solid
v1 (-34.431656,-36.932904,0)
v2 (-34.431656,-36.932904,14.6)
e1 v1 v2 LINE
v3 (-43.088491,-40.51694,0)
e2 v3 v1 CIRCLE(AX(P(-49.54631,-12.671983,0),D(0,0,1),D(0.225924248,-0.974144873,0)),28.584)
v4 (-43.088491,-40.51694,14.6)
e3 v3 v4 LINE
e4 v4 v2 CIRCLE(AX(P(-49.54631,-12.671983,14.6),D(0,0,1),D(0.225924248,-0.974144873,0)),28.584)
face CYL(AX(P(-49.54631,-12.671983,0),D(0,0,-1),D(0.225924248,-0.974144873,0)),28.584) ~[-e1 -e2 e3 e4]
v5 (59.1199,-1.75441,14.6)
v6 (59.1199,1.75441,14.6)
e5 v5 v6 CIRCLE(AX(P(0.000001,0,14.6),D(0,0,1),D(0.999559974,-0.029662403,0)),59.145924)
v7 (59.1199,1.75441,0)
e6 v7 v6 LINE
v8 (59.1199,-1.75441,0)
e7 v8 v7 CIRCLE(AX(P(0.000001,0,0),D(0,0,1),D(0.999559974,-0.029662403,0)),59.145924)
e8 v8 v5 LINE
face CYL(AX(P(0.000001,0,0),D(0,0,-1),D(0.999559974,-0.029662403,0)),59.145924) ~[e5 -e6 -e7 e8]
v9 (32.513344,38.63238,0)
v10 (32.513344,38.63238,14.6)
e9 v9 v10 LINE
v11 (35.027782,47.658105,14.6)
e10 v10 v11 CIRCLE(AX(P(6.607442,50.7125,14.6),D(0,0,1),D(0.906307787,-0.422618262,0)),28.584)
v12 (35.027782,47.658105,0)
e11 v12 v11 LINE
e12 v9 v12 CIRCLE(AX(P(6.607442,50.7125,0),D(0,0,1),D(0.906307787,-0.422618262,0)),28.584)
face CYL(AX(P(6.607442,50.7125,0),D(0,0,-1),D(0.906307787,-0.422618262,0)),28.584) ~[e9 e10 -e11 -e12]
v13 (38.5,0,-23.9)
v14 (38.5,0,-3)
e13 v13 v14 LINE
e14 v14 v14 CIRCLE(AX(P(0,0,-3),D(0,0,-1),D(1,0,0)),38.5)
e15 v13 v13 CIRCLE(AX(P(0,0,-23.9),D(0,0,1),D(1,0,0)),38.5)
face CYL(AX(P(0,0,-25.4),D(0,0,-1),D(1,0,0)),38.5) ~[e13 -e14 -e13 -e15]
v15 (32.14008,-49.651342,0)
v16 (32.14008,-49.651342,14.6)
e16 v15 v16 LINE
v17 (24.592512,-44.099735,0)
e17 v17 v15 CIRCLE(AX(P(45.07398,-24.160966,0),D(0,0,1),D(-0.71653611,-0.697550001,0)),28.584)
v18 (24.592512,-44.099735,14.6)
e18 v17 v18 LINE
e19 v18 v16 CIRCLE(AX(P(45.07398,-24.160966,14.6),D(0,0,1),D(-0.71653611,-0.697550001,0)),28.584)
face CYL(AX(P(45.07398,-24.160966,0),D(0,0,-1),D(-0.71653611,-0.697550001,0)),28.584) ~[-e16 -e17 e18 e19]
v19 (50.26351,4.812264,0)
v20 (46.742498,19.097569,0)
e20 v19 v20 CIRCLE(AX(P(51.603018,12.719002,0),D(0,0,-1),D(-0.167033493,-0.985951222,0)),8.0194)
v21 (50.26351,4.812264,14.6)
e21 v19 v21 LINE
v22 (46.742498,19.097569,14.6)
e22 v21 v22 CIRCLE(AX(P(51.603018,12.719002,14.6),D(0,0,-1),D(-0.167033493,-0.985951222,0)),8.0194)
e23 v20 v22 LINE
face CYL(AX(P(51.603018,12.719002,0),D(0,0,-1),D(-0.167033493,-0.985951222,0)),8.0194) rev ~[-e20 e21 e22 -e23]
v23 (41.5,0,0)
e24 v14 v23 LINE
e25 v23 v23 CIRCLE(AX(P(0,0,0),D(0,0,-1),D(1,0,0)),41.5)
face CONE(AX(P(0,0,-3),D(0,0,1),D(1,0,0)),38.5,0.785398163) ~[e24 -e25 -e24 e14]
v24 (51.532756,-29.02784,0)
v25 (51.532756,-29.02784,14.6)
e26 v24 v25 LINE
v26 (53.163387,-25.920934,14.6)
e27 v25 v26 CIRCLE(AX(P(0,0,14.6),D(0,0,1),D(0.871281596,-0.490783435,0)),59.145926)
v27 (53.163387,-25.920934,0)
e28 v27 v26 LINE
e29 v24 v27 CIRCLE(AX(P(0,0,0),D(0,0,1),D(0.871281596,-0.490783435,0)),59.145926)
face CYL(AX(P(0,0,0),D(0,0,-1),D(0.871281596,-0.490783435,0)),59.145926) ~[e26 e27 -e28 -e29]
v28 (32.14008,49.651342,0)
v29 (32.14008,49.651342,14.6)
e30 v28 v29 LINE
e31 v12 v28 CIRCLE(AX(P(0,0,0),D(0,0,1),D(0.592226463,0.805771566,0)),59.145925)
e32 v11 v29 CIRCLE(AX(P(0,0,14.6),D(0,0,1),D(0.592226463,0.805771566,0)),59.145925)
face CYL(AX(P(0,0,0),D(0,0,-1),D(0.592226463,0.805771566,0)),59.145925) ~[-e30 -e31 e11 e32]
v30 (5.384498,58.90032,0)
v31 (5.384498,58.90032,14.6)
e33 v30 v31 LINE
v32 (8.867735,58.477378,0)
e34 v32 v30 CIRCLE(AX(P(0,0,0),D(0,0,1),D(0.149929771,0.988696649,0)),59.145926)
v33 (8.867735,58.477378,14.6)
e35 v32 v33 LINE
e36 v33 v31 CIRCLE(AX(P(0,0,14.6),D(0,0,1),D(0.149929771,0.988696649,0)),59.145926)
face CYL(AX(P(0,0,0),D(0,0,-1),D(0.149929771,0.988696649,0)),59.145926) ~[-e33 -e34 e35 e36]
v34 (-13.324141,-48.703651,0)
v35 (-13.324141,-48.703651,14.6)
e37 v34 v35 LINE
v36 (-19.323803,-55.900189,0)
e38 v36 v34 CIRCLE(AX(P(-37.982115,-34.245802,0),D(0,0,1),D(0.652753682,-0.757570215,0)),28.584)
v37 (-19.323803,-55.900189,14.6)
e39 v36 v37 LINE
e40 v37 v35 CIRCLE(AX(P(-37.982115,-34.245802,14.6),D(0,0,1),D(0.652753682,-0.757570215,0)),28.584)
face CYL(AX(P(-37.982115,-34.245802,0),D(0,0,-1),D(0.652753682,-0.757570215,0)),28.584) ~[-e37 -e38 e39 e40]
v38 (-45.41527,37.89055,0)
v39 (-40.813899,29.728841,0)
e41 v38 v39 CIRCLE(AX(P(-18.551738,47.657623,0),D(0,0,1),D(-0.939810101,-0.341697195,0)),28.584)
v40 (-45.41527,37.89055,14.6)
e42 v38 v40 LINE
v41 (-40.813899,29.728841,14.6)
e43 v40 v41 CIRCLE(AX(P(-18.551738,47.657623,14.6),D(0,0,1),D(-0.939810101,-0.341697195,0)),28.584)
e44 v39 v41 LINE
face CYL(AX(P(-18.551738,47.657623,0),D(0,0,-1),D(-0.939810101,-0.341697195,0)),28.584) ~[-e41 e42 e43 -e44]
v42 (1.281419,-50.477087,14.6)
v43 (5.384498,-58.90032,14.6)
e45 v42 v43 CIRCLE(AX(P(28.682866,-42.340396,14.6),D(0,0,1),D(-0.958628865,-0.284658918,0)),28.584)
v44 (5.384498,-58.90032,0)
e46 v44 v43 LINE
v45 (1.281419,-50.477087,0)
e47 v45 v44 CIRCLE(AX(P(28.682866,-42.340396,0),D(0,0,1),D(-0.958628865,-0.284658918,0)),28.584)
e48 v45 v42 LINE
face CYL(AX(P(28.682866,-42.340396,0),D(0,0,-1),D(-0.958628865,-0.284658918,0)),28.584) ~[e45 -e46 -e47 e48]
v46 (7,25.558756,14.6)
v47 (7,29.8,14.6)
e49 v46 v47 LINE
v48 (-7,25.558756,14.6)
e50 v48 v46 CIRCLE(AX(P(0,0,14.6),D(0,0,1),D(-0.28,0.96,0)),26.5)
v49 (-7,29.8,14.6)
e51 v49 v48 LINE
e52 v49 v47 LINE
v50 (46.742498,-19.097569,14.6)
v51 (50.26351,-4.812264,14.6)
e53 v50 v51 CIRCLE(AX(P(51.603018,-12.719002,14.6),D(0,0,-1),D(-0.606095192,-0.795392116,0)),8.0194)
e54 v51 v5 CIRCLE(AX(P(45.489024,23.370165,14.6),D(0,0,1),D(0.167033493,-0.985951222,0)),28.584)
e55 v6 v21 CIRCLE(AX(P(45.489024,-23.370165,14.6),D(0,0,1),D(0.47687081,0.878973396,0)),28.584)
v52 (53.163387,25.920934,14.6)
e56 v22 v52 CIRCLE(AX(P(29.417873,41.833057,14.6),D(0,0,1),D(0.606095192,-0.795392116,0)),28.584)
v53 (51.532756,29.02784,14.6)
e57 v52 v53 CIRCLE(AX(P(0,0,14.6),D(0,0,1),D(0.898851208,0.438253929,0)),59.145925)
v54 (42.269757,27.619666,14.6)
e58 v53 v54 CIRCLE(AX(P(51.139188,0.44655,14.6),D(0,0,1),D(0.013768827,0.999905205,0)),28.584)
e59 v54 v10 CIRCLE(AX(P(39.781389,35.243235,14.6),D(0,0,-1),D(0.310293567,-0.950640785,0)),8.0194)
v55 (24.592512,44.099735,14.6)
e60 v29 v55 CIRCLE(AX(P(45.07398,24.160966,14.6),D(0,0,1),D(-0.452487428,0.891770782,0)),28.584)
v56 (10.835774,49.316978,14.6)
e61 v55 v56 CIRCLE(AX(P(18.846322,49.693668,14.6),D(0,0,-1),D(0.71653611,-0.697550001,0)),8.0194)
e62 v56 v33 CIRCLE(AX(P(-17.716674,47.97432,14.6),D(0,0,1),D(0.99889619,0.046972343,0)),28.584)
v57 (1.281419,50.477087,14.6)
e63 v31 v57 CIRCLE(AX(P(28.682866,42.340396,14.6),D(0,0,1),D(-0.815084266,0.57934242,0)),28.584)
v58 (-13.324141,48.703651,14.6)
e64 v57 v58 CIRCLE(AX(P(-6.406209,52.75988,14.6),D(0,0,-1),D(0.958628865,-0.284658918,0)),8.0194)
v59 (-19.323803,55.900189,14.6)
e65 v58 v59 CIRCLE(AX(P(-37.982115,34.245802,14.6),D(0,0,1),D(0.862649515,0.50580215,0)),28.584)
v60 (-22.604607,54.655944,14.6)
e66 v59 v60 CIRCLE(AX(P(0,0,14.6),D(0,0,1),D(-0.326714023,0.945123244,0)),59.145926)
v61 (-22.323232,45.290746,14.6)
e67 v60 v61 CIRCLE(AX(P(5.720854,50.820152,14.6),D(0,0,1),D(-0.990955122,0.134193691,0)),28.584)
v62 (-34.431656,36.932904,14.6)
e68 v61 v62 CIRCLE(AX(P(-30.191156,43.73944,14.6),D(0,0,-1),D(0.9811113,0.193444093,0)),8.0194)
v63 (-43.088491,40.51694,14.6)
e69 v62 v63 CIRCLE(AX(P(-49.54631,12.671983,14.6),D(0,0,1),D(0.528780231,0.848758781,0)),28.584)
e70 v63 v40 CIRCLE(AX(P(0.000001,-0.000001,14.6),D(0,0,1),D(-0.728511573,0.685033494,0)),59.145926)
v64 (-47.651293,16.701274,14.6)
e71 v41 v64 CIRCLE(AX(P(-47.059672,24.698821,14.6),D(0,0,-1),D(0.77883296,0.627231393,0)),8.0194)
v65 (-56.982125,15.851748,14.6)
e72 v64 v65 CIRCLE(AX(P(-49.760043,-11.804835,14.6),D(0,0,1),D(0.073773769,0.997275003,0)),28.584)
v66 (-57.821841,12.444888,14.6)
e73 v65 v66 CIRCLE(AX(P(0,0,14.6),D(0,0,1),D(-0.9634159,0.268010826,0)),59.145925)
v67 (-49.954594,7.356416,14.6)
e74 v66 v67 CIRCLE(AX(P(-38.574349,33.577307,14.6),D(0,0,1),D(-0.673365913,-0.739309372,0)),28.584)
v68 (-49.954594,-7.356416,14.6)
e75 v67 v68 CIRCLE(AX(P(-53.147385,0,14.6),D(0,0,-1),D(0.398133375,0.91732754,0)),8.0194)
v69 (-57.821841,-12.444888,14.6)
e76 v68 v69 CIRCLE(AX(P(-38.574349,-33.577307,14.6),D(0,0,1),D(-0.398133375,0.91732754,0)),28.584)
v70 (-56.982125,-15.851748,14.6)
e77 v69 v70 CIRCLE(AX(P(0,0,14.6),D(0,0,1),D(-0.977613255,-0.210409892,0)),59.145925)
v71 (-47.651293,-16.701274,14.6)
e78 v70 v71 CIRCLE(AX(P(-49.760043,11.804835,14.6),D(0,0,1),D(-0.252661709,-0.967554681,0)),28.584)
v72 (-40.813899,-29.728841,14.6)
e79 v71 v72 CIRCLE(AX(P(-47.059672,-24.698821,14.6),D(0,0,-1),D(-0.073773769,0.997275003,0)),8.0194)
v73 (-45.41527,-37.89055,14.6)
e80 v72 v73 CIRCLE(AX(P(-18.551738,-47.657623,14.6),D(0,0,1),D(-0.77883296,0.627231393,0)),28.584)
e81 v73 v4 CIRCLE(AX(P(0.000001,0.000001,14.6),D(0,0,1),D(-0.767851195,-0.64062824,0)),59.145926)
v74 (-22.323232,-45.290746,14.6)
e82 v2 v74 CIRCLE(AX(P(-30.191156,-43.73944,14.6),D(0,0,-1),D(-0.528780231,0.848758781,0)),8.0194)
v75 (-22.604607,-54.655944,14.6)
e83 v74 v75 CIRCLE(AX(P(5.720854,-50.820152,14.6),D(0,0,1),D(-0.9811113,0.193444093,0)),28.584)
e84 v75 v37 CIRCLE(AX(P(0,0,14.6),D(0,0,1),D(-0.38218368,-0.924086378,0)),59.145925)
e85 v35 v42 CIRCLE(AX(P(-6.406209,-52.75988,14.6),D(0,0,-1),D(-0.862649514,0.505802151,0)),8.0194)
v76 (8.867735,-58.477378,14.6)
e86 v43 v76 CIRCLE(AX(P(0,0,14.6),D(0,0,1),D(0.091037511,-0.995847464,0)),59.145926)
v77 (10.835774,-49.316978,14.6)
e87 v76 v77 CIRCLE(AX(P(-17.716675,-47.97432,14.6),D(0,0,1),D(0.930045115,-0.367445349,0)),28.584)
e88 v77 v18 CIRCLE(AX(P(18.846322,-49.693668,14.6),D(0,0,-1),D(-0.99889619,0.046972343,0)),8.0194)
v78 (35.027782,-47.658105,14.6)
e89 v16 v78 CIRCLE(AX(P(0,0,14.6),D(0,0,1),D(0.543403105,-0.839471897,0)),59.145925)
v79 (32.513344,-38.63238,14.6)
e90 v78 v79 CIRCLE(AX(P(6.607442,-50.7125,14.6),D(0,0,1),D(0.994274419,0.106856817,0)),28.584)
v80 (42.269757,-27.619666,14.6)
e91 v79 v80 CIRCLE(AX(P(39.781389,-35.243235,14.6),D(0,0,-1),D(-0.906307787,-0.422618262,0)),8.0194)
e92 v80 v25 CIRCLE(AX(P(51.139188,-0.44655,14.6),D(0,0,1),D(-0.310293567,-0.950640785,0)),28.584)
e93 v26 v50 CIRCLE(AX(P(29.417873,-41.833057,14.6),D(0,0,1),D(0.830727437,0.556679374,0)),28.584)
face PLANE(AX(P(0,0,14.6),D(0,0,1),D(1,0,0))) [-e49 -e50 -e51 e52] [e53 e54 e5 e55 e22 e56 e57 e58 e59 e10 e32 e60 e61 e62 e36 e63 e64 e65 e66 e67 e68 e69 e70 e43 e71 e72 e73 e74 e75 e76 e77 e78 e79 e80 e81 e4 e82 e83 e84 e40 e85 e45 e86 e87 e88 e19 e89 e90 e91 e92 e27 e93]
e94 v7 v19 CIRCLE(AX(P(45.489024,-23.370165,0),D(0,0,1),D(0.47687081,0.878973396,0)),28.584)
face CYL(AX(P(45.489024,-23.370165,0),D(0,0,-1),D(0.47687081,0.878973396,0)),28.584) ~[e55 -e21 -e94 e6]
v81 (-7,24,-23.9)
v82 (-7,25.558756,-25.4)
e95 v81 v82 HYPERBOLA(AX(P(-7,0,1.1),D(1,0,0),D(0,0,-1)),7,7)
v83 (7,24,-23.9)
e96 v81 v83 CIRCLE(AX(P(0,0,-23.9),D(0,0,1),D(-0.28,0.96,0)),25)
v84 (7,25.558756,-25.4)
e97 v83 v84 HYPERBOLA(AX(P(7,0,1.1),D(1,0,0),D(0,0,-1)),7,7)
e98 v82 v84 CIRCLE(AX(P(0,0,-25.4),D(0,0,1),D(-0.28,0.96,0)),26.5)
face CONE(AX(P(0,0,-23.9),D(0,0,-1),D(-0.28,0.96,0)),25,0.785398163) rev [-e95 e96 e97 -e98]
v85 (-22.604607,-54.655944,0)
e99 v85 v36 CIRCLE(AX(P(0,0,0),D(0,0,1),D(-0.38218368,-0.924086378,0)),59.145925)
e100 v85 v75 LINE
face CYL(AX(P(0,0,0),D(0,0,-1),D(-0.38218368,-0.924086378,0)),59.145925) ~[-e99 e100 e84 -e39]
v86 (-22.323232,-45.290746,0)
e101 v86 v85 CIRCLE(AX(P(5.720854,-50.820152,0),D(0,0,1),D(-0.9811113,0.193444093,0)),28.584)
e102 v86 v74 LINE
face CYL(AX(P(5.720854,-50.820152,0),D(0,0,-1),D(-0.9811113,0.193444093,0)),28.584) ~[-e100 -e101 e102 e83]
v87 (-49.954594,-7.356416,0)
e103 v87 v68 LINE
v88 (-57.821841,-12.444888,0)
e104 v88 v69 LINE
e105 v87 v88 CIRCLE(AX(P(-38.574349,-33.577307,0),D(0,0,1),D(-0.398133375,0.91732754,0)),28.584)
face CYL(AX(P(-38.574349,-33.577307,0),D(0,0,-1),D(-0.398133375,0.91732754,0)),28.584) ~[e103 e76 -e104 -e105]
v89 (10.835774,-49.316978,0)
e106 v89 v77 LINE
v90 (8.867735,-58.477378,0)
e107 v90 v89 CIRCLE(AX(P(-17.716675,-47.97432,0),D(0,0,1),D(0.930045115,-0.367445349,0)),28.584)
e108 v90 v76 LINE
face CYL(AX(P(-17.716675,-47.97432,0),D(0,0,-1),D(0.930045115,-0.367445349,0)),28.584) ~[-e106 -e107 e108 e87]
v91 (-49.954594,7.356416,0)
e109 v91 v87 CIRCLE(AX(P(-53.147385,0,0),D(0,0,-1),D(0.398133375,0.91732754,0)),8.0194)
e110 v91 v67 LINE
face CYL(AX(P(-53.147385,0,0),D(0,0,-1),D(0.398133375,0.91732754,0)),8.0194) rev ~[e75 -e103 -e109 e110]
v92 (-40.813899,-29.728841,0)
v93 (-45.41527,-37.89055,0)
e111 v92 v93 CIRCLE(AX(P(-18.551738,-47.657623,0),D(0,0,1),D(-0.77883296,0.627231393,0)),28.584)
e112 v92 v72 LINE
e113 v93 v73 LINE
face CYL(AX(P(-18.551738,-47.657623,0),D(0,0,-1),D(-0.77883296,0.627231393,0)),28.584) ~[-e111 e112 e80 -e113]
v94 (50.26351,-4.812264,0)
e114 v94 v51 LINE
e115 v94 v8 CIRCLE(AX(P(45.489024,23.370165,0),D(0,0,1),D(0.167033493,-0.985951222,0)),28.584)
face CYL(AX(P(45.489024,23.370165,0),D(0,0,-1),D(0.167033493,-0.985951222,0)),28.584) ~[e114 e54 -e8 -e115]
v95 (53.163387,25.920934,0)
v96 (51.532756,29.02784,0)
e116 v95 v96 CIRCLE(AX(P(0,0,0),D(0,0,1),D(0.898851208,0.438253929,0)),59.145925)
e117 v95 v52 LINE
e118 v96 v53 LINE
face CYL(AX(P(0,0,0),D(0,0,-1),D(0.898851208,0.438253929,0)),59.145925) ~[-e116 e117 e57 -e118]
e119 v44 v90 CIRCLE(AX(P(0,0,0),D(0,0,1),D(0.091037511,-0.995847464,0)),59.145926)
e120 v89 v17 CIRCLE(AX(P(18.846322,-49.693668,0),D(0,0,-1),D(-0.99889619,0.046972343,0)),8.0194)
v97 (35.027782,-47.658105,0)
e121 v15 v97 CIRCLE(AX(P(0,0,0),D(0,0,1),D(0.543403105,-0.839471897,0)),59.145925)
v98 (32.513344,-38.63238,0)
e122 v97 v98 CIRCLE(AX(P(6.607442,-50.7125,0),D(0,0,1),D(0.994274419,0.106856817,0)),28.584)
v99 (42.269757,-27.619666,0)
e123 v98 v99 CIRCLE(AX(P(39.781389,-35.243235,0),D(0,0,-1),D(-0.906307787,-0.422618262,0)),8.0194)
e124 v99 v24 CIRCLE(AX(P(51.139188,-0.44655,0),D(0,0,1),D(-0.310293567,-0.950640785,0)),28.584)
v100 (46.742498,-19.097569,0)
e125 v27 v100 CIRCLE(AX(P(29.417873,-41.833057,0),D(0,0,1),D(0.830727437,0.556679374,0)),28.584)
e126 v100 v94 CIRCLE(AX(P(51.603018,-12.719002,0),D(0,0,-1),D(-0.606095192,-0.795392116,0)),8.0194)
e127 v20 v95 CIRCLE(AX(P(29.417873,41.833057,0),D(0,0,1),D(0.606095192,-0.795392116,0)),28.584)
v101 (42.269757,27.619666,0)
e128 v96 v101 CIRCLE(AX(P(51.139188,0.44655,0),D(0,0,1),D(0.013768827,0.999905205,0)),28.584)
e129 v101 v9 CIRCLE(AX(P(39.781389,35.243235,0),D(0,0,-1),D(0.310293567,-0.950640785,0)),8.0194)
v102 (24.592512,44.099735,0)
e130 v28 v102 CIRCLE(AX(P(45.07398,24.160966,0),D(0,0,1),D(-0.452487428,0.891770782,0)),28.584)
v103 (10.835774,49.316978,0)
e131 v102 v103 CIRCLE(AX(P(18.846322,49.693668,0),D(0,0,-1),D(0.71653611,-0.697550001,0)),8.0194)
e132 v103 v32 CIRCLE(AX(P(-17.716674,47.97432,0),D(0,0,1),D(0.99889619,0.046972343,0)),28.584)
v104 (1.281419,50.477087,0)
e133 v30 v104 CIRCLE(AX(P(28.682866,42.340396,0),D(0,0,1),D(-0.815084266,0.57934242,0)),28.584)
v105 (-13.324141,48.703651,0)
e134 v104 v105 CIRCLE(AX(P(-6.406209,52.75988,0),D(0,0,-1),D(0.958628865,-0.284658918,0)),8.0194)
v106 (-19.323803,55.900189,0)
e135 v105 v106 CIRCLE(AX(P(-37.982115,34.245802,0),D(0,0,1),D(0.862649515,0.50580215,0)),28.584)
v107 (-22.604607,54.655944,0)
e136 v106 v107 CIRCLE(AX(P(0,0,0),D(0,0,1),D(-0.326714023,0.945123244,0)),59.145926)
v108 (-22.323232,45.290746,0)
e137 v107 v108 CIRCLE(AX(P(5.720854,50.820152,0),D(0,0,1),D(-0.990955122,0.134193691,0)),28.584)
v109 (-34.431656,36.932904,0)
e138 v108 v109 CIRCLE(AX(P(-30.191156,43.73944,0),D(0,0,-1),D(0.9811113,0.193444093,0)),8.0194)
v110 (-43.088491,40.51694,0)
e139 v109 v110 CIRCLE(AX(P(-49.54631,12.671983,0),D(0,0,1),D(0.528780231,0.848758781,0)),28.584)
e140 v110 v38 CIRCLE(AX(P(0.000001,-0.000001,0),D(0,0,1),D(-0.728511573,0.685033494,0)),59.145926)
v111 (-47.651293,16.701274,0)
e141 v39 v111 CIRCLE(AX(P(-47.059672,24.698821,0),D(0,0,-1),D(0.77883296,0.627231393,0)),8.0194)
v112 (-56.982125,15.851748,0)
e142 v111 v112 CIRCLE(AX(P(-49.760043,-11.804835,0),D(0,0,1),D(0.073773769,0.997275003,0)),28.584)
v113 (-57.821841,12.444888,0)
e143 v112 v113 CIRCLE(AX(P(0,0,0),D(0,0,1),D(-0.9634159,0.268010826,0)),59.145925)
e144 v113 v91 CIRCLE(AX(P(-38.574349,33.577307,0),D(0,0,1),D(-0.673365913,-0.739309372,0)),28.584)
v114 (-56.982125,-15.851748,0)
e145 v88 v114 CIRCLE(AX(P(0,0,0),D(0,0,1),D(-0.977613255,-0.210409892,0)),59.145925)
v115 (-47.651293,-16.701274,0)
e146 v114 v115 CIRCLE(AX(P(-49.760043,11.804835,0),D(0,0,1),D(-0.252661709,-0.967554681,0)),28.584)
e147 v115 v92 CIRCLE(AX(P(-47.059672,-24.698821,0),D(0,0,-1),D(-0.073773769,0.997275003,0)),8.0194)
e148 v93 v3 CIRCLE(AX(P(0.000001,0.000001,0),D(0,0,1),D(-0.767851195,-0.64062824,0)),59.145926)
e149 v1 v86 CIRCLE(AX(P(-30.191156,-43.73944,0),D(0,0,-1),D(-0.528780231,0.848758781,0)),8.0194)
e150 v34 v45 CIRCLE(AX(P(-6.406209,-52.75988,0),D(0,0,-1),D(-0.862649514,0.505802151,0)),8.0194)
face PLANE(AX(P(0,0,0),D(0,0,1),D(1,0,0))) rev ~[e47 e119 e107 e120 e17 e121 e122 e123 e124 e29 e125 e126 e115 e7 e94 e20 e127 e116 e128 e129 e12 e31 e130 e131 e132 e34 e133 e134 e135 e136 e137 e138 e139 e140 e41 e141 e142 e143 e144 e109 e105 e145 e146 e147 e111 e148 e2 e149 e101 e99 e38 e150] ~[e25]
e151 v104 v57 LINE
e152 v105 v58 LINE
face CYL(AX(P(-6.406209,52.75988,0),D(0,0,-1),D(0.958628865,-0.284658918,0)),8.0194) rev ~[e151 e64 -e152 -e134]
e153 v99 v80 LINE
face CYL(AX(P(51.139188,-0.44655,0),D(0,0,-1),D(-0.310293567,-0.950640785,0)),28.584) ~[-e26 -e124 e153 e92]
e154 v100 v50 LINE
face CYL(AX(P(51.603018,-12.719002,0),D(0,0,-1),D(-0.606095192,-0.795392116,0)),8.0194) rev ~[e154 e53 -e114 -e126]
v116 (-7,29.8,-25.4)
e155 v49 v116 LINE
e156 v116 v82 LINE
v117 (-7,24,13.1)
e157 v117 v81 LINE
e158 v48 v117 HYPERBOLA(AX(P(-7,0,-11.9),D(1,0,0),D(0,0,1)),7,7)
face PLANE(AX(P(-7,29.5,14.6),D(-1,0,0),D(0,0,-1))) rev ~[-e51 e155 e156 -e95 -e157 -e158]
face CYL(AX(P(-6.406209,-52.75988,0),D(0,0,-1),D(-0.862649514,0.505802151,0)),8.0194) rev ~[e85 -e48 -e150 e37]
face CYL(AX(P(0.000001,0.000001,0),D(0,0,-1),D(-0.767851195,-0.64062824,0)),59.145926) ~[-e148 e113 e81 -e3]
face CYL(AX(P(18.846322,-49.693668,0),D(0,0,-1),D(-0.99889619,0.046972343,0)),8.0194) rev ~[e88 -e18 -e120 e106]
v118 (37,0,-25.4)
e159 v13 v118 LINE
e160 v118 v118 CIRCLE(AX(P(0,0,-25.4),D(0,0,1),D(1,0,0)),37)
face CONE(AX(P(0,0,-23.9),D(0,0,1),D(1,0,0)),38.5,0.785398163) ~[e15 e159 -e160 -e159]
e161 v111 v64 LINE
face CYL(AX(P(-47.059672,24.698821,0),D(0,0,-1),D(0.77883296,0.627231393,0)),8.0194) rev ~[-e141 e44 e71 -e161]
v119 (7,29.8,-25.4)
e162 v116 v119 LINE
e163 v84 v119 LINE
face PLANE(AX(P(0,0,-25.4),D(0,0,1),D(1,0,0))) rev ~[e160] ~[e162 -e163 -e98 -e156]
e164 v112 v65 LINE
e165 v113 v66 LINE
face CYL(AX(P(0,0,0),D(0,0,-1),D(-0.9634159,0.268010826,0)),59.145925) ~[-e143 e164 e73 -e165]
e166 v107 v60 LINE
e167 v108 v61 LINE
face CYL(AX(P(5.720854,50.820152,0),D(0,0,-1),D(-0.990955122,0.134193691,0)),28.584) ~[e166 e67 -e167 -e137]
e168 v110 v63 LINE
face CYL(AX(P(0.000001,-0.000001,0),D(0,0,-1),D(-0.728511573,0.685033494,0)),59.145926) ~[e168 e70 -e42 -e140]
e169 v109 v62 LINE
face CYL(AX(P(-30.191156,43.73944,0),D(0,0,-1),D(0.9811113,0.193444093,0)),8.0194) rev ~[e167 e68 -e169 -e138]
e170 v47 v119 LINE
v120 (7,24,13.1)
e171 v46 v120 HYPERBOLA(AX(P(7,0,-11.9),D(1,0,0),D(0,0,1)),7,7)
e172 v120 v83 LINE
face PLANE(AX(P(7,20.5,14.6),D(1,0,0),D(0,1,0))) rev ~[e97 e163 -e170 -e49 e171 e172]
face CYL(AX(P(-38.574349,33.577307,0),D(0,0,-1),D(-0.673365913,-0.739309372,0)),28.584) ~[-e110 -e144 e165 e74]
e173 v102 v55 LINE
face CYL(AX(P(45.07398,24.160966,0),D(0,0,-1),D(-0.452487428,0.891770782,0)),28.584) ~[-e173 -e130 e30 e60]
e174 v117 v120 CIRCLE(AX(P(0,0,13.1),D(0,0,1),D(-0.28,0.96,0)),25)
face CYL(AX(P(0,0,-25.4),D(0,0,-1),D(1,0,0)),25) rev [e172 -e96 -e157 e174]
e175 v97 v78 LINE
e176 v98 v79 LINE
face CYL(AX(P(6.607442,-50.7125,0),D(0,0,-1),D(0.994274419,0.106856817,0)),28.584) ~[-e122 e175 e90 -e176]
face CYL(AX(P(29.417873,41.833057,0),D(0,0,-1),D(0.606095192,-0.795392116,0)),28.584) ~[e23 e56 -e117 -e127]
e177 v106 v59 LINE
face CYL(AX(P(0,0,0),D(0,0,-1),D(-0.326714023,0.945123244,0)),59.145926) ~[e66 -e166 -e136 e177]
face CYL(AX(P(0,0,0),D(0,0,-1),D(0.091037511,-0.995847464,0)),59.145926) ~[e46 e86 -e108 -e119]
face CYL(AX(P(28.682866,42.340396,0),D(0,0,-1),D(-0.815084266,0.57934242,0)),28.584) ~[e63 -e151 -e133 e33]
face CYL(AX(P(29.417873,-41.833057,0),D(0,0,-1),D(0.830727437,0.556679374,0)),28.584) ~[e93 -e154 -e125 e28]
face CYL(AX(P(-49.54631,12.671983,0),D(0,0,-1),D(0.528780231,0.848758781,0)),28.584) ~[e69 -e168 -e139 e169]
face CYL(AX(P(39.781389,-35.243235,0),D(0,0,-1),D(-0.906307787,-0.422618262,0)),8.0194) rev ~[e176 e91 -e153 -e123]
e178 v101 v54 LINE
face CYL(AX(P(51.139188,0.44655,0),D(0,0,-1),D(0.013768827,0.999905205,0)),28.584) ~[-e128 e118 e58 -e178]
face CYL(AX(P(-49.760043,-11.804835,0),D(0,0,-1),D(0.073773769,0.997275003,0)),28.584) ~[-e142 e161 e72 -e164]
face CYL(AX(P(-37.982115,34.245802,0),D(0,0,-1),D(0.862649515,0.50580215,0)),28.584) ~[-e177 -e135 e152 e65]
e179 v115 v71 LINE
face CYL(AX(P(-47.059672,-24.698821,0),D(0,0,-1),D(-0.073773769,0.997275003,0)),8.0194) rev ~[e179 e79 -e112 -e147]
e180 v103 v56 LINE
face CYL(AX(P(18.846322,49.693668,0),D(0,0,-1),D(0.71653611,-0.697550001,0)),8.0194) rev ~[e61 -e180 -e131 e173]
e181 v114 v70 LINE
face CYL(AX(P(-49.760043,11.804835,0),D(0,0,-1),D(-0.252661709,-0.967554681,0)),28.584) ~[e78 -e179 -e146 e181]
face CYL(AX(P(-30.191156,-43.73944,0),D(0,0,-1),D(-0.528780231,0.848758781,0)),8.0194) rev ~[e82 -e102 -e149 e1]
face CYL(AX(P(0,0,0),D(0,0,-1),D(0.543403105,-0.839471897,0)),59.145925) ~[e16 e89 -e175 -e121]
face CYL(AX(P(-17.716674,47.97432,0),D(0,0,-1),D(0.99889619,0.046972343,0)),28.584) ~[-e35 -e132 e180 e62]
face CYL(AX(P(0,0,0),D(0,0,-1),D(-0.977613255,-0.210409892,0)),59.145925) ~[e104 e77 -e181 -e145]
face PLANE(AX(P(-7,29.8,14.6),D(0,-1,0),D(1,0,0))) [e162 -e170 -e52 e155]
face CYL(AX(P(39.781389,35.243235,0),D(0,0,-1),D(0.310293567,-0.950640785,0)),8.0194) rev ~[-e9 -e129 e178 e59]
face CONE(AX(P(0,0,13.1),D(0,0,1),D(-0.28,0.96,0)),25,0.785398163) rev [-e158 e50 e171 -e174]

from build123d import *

# Parameters (mm, degrees)
SKETCH2_R           = 25
BOSS_EXTRUDE1_DEPTH = 14.6
BOSS_EXTRUDE2_START = -40
SKETCH3_R           = 38.5
SKETCH3_R_2         = 25
BOSS_EXTRUDE2_DEPTH = 40
SKETCH4_W           = 14
SKETCH4_H           = 9
CUT_EXTRUDE1_DEPTH  = 45
MOVE_FACE1_BY       = 0.3
CHAMFER3_SIZE       = 1.5
CHAMFER4_SIZE       = 3


with BuildPart() as part:
    # Sketch2 → Boss-Extrude1 (new body)
    with BuildSketch(Plane.XY):
        with BuildLine():
            ThreePointArc((53.163386549, 25.920934205), (52.371116098, 27.486482097), (51.532756355, 29.027840461))
            ThreePointArc((51.532756355, 29.027840461), (46.843166468, 28.705871605), (42.269756881, 27.619666278))
            ThreePointArc((42.269756881, 27.619666278), (33.778781557, 29.925389145), (32.513343984, 38.632379879))
            ThreePointArc((32.513343984, 38.632379879), (34.14289326, 43.041516576), (35.027782197, 47.658105016))
            ThreePointArc((35.027782197, 47.658105016), (33.598715171, 48.676142393), (32.140079536, 49.651342246))
            ThreePointArc((32.140079536, 49.651342246), (28.137280301, 47.186891894), (24.59251201, 44.099735432))
            ThreePointArc((24.59251201, 44.099735432), (16.002603901, 42.195398652), (10.835774224, 49.316977899))
            ThreePointArc((10.835774224, 49.316977899), (10.229640458, 53.978363864), (8.867735075, 58.47737831))
            ThreePointArc((8.867735075, 58.47737831), (7.129253506, 58.714685078), (5.384497826, 58.900319885))
            ThreePointArc((5.384497826, 58.900319885), (2.985482308, 54.857963913), (1.281419009, 50.477086658))
            ThreePointArc((1.281419009, 50.477086658), (-5.439577457, 44.798950837), (-13.324140826, 48.703650616))
            ThreePointArc((-13.324140826, 48.703650616), (-16.027099693, 52.549418501), (-19.323803285, 55.900188962))
            ThreePointArc((-19.323803285, 55.900188962), (-20.973434219, 55.302401001), (-22.604607447, 54.655944065))
            ThreePointArc((-22.604607447, 54.655944065), (-22.850253703, 49.96173751), (-22.323231644, 45.290745645))
            ThreePointArc((-22.323231644, 45.290745645), (-25.635617173, 37.139603271), (-34.431655785, 36.93290392))
            ThreePointArc((-34.431655785, 36.93290392), (-38.612224452, 39.082034648), (-43.08849119, 40.516939993))
            ThreePointArc((-43.08849119, 40.516939993), (-44.271360923, 39.22100332), (-45.415269568, 37.890550135))
            ThreePointArc((-45.415269568, 37.890550135), (-43.451271965, 33.619879148), (-40.813898952, 29.728840617))
            ThreePointArc((-40.813898952, 29.728840617), (-39.958845938, 20.972020177), (-47.651293351, 16.701274026))
            ThreePointArc((-47.651293351, 16.701274026), (-52.351753916, 16.661427647), (-56.982125035, 15.851748354))
            ThreePointArc((-56.982125035, 15.851748354), (-57.427252367, 14.154546443), (-57.821840745, 12.444887799))
            ThreePointArc((-57.821840745, 12.444887799), (-54.098127465, 9.576111636), (-49.95459387, 7.356416476))
            ThreePointArc((-49.95459387, 7.356416476), (-45.127984655, 0), (-49.95459387, -7.356416476))
            ThreePointArc((-49.95459387, -7.356416476), (-54.098127465, -9.576111636), (-57.821840745, -12.444887799))
            ThreePointArc((-57.821840745, -12.444887799), (-57.427252367, -14.154546443), (-56.982125035, -15.851748354))
            ThreePointArc((-56.982125035, -15.851748354), (-52.351753916, -16.661427647), (-47.651293351, -16.701274026))
            ThreePointArc((-47.651293351, -16.701274026), (-39.958845938, -20.972020177), (-40.813898952, -29.728840617))
            ThreePointArc((-40.813898952, -29.728840617), (-43.451271965, -33.619879148), (-45.415269568, -37.890550135))
            ThreePointArc((-45.415269568, -37.890550135), (-44.271360923, -39.22100332), (-43.08849119, -40.516939993))
            ThreePointArc((-43.08849119, -40.516939993), (-38.612224452, -39.082034648), (-34.431655785, -36.93290392))
            ThreePointArc((-34.431655785, -36.93290392), (-25.635617173, -37.139603271), (-22.323231644, -45.290745645))
            ThreePointArc((-22.323231644, -45.290745645), (-22.850253703, -49.96173751), (-22.604607446, -54.655944065))
            ThreePointArc((-22.604607446, -54.655944065), (-20.973434219, -55.302401001), (-19.323803285, -55.900188962))
            ThreePointArc((-19.323803285, -55.900188962), (-16.027099693, -52.549418501), (-13.324140826, -48.703650616))
            ThreePointArc((-13.324140826, -48.703650616), (-5.439577457, -44.798950837), (1.281419009, -50.477086658))
            ThreePointArc((1.281419009, -50.477086658), (2.985482308, -54.857963913), (5.384497826, -58.900319885))
            ThreePointArc((5.384497826, -58.900319885), (7.129253506, -58.714685078), (8.867735075, -58.47737831))
            ThreePointArc((8.867735075, -58.47737831), (10.229640457, -53.978363864), (10.835774224, -49.316977899))
            ThreePointArc((10.835774224, -49.316977899), (16.002603901, -42.195398652), (24.59251201, -44.099735432))
            ThreePointArc((24.59251201, -44.099735432), (28.137280301, -47.186891894), (32.140079536, -49.651342246))
            ThreePointArc((32.140079536, -49.651342246), (33.598715171, -48.676142393), (35.027782197, -47.658105016))
            ThreePointArc((35.027782197, -47.658105016), (34.14289326, -43.041516576), (32.513343984, -38.632379879))
            ThreePointArc((32.513343984, -38.632379879), (33.778781557, -29.925389145), (42.269756881, -27.619666278))
            ThreePointArc((42.269756881, -27.619666278), (46.843166468, -28.705871605), (51.532756355, -29.027840461))
            ThreePointArc((51.532756355, -29.027840461), (52.371116098, -27.486482097), (53.163386549, -25.920934206))
            ThreePointArc((53.163386549, -25.920934206), (50.234420683, -22.244376547), (46.742498465, -19.097569199))
            ThreePointArc((46.742498465, -19.097569199), (43.816647437, -10.799833626), (50.263509857, -4.812264433))
            ThreePointArc((50.263509857, -4.812264433), (54.817847718, -3.648682075), (59.11989973, -1.754410251))
            ThreePointArc((59.11989973, -1.754410251), (59.145925468, 0), (59.11989973, 1.754410251))
            ThreePointArc((59.11989973, 1.754410251), (54.817847718, 3.648682075), (50.263509857, 4.812264433))
            ThreePointArc((50.263509857, 4.812264433), (43.816647437, 10.799833626), (46.742498465, 19.097569199))
            ThreePointArc((46.742498465, 19.097569199), (50.234420683, 22.244376547), (53.163386549, 25.920934205))
        make_face()
        Circle(SKETCH2_R, mode=Mode.SUBTRACT)
    extrude(amount=BOSS_EXTRUDE1_DEPTH)

    # Sketch3 → Boss-Extrude2 (add)
    with BuildSketch(Plane.XY.offset(14.6).offset(BOSS_EXTRUDE2_START)):
        Circle(SKETCH3_R)
        Circle(SKETCH3_R_2, mode=Mode.SUBTRACT)
    extrude(amount=BOSS_EXTRUDE2_DEPTH)

    # Sketch4 → Cut-Extrude1 (cut)
    with BuildSketch(Plane.XY.offset(14.6)):
        with Locations((0, 25)):
            Rectangle(SKETCH4_W, SKETCH4_H)
    extrude(amount=-CUT_EXTRUDE1_DEPTH, mode=Mode.SUBTRACT)

    # Move Face1: a face moved inward by 0.3
    extrude(part.faces().sort_by_distance((0, 29.5, -5.4))[0], amount=MOVE_FACE1_BY, dir=(0, 1, 0), mode=Mode.SUBTRACT)

    # Chamfer3
    chamfer3_edges = [part.edges().sort_by_distance(p)[0] for p in [
        (-38.5, 0, -25.4),
        (0, -25, -25.4),
        (0, -25, 14.6),
    ]]
    chamfer(chamfer3_edges, length=CHAMFER3_SIZE)

    # Chamfer4
    chamfer4_edges = [part.edges().sort_by_distance(p)[0] for p in [
        (-38.5, 0, 0),
    ]]
    chamfer(chamfer4_edges, length=CHAMFER4_SIZE)


solid = part.part
